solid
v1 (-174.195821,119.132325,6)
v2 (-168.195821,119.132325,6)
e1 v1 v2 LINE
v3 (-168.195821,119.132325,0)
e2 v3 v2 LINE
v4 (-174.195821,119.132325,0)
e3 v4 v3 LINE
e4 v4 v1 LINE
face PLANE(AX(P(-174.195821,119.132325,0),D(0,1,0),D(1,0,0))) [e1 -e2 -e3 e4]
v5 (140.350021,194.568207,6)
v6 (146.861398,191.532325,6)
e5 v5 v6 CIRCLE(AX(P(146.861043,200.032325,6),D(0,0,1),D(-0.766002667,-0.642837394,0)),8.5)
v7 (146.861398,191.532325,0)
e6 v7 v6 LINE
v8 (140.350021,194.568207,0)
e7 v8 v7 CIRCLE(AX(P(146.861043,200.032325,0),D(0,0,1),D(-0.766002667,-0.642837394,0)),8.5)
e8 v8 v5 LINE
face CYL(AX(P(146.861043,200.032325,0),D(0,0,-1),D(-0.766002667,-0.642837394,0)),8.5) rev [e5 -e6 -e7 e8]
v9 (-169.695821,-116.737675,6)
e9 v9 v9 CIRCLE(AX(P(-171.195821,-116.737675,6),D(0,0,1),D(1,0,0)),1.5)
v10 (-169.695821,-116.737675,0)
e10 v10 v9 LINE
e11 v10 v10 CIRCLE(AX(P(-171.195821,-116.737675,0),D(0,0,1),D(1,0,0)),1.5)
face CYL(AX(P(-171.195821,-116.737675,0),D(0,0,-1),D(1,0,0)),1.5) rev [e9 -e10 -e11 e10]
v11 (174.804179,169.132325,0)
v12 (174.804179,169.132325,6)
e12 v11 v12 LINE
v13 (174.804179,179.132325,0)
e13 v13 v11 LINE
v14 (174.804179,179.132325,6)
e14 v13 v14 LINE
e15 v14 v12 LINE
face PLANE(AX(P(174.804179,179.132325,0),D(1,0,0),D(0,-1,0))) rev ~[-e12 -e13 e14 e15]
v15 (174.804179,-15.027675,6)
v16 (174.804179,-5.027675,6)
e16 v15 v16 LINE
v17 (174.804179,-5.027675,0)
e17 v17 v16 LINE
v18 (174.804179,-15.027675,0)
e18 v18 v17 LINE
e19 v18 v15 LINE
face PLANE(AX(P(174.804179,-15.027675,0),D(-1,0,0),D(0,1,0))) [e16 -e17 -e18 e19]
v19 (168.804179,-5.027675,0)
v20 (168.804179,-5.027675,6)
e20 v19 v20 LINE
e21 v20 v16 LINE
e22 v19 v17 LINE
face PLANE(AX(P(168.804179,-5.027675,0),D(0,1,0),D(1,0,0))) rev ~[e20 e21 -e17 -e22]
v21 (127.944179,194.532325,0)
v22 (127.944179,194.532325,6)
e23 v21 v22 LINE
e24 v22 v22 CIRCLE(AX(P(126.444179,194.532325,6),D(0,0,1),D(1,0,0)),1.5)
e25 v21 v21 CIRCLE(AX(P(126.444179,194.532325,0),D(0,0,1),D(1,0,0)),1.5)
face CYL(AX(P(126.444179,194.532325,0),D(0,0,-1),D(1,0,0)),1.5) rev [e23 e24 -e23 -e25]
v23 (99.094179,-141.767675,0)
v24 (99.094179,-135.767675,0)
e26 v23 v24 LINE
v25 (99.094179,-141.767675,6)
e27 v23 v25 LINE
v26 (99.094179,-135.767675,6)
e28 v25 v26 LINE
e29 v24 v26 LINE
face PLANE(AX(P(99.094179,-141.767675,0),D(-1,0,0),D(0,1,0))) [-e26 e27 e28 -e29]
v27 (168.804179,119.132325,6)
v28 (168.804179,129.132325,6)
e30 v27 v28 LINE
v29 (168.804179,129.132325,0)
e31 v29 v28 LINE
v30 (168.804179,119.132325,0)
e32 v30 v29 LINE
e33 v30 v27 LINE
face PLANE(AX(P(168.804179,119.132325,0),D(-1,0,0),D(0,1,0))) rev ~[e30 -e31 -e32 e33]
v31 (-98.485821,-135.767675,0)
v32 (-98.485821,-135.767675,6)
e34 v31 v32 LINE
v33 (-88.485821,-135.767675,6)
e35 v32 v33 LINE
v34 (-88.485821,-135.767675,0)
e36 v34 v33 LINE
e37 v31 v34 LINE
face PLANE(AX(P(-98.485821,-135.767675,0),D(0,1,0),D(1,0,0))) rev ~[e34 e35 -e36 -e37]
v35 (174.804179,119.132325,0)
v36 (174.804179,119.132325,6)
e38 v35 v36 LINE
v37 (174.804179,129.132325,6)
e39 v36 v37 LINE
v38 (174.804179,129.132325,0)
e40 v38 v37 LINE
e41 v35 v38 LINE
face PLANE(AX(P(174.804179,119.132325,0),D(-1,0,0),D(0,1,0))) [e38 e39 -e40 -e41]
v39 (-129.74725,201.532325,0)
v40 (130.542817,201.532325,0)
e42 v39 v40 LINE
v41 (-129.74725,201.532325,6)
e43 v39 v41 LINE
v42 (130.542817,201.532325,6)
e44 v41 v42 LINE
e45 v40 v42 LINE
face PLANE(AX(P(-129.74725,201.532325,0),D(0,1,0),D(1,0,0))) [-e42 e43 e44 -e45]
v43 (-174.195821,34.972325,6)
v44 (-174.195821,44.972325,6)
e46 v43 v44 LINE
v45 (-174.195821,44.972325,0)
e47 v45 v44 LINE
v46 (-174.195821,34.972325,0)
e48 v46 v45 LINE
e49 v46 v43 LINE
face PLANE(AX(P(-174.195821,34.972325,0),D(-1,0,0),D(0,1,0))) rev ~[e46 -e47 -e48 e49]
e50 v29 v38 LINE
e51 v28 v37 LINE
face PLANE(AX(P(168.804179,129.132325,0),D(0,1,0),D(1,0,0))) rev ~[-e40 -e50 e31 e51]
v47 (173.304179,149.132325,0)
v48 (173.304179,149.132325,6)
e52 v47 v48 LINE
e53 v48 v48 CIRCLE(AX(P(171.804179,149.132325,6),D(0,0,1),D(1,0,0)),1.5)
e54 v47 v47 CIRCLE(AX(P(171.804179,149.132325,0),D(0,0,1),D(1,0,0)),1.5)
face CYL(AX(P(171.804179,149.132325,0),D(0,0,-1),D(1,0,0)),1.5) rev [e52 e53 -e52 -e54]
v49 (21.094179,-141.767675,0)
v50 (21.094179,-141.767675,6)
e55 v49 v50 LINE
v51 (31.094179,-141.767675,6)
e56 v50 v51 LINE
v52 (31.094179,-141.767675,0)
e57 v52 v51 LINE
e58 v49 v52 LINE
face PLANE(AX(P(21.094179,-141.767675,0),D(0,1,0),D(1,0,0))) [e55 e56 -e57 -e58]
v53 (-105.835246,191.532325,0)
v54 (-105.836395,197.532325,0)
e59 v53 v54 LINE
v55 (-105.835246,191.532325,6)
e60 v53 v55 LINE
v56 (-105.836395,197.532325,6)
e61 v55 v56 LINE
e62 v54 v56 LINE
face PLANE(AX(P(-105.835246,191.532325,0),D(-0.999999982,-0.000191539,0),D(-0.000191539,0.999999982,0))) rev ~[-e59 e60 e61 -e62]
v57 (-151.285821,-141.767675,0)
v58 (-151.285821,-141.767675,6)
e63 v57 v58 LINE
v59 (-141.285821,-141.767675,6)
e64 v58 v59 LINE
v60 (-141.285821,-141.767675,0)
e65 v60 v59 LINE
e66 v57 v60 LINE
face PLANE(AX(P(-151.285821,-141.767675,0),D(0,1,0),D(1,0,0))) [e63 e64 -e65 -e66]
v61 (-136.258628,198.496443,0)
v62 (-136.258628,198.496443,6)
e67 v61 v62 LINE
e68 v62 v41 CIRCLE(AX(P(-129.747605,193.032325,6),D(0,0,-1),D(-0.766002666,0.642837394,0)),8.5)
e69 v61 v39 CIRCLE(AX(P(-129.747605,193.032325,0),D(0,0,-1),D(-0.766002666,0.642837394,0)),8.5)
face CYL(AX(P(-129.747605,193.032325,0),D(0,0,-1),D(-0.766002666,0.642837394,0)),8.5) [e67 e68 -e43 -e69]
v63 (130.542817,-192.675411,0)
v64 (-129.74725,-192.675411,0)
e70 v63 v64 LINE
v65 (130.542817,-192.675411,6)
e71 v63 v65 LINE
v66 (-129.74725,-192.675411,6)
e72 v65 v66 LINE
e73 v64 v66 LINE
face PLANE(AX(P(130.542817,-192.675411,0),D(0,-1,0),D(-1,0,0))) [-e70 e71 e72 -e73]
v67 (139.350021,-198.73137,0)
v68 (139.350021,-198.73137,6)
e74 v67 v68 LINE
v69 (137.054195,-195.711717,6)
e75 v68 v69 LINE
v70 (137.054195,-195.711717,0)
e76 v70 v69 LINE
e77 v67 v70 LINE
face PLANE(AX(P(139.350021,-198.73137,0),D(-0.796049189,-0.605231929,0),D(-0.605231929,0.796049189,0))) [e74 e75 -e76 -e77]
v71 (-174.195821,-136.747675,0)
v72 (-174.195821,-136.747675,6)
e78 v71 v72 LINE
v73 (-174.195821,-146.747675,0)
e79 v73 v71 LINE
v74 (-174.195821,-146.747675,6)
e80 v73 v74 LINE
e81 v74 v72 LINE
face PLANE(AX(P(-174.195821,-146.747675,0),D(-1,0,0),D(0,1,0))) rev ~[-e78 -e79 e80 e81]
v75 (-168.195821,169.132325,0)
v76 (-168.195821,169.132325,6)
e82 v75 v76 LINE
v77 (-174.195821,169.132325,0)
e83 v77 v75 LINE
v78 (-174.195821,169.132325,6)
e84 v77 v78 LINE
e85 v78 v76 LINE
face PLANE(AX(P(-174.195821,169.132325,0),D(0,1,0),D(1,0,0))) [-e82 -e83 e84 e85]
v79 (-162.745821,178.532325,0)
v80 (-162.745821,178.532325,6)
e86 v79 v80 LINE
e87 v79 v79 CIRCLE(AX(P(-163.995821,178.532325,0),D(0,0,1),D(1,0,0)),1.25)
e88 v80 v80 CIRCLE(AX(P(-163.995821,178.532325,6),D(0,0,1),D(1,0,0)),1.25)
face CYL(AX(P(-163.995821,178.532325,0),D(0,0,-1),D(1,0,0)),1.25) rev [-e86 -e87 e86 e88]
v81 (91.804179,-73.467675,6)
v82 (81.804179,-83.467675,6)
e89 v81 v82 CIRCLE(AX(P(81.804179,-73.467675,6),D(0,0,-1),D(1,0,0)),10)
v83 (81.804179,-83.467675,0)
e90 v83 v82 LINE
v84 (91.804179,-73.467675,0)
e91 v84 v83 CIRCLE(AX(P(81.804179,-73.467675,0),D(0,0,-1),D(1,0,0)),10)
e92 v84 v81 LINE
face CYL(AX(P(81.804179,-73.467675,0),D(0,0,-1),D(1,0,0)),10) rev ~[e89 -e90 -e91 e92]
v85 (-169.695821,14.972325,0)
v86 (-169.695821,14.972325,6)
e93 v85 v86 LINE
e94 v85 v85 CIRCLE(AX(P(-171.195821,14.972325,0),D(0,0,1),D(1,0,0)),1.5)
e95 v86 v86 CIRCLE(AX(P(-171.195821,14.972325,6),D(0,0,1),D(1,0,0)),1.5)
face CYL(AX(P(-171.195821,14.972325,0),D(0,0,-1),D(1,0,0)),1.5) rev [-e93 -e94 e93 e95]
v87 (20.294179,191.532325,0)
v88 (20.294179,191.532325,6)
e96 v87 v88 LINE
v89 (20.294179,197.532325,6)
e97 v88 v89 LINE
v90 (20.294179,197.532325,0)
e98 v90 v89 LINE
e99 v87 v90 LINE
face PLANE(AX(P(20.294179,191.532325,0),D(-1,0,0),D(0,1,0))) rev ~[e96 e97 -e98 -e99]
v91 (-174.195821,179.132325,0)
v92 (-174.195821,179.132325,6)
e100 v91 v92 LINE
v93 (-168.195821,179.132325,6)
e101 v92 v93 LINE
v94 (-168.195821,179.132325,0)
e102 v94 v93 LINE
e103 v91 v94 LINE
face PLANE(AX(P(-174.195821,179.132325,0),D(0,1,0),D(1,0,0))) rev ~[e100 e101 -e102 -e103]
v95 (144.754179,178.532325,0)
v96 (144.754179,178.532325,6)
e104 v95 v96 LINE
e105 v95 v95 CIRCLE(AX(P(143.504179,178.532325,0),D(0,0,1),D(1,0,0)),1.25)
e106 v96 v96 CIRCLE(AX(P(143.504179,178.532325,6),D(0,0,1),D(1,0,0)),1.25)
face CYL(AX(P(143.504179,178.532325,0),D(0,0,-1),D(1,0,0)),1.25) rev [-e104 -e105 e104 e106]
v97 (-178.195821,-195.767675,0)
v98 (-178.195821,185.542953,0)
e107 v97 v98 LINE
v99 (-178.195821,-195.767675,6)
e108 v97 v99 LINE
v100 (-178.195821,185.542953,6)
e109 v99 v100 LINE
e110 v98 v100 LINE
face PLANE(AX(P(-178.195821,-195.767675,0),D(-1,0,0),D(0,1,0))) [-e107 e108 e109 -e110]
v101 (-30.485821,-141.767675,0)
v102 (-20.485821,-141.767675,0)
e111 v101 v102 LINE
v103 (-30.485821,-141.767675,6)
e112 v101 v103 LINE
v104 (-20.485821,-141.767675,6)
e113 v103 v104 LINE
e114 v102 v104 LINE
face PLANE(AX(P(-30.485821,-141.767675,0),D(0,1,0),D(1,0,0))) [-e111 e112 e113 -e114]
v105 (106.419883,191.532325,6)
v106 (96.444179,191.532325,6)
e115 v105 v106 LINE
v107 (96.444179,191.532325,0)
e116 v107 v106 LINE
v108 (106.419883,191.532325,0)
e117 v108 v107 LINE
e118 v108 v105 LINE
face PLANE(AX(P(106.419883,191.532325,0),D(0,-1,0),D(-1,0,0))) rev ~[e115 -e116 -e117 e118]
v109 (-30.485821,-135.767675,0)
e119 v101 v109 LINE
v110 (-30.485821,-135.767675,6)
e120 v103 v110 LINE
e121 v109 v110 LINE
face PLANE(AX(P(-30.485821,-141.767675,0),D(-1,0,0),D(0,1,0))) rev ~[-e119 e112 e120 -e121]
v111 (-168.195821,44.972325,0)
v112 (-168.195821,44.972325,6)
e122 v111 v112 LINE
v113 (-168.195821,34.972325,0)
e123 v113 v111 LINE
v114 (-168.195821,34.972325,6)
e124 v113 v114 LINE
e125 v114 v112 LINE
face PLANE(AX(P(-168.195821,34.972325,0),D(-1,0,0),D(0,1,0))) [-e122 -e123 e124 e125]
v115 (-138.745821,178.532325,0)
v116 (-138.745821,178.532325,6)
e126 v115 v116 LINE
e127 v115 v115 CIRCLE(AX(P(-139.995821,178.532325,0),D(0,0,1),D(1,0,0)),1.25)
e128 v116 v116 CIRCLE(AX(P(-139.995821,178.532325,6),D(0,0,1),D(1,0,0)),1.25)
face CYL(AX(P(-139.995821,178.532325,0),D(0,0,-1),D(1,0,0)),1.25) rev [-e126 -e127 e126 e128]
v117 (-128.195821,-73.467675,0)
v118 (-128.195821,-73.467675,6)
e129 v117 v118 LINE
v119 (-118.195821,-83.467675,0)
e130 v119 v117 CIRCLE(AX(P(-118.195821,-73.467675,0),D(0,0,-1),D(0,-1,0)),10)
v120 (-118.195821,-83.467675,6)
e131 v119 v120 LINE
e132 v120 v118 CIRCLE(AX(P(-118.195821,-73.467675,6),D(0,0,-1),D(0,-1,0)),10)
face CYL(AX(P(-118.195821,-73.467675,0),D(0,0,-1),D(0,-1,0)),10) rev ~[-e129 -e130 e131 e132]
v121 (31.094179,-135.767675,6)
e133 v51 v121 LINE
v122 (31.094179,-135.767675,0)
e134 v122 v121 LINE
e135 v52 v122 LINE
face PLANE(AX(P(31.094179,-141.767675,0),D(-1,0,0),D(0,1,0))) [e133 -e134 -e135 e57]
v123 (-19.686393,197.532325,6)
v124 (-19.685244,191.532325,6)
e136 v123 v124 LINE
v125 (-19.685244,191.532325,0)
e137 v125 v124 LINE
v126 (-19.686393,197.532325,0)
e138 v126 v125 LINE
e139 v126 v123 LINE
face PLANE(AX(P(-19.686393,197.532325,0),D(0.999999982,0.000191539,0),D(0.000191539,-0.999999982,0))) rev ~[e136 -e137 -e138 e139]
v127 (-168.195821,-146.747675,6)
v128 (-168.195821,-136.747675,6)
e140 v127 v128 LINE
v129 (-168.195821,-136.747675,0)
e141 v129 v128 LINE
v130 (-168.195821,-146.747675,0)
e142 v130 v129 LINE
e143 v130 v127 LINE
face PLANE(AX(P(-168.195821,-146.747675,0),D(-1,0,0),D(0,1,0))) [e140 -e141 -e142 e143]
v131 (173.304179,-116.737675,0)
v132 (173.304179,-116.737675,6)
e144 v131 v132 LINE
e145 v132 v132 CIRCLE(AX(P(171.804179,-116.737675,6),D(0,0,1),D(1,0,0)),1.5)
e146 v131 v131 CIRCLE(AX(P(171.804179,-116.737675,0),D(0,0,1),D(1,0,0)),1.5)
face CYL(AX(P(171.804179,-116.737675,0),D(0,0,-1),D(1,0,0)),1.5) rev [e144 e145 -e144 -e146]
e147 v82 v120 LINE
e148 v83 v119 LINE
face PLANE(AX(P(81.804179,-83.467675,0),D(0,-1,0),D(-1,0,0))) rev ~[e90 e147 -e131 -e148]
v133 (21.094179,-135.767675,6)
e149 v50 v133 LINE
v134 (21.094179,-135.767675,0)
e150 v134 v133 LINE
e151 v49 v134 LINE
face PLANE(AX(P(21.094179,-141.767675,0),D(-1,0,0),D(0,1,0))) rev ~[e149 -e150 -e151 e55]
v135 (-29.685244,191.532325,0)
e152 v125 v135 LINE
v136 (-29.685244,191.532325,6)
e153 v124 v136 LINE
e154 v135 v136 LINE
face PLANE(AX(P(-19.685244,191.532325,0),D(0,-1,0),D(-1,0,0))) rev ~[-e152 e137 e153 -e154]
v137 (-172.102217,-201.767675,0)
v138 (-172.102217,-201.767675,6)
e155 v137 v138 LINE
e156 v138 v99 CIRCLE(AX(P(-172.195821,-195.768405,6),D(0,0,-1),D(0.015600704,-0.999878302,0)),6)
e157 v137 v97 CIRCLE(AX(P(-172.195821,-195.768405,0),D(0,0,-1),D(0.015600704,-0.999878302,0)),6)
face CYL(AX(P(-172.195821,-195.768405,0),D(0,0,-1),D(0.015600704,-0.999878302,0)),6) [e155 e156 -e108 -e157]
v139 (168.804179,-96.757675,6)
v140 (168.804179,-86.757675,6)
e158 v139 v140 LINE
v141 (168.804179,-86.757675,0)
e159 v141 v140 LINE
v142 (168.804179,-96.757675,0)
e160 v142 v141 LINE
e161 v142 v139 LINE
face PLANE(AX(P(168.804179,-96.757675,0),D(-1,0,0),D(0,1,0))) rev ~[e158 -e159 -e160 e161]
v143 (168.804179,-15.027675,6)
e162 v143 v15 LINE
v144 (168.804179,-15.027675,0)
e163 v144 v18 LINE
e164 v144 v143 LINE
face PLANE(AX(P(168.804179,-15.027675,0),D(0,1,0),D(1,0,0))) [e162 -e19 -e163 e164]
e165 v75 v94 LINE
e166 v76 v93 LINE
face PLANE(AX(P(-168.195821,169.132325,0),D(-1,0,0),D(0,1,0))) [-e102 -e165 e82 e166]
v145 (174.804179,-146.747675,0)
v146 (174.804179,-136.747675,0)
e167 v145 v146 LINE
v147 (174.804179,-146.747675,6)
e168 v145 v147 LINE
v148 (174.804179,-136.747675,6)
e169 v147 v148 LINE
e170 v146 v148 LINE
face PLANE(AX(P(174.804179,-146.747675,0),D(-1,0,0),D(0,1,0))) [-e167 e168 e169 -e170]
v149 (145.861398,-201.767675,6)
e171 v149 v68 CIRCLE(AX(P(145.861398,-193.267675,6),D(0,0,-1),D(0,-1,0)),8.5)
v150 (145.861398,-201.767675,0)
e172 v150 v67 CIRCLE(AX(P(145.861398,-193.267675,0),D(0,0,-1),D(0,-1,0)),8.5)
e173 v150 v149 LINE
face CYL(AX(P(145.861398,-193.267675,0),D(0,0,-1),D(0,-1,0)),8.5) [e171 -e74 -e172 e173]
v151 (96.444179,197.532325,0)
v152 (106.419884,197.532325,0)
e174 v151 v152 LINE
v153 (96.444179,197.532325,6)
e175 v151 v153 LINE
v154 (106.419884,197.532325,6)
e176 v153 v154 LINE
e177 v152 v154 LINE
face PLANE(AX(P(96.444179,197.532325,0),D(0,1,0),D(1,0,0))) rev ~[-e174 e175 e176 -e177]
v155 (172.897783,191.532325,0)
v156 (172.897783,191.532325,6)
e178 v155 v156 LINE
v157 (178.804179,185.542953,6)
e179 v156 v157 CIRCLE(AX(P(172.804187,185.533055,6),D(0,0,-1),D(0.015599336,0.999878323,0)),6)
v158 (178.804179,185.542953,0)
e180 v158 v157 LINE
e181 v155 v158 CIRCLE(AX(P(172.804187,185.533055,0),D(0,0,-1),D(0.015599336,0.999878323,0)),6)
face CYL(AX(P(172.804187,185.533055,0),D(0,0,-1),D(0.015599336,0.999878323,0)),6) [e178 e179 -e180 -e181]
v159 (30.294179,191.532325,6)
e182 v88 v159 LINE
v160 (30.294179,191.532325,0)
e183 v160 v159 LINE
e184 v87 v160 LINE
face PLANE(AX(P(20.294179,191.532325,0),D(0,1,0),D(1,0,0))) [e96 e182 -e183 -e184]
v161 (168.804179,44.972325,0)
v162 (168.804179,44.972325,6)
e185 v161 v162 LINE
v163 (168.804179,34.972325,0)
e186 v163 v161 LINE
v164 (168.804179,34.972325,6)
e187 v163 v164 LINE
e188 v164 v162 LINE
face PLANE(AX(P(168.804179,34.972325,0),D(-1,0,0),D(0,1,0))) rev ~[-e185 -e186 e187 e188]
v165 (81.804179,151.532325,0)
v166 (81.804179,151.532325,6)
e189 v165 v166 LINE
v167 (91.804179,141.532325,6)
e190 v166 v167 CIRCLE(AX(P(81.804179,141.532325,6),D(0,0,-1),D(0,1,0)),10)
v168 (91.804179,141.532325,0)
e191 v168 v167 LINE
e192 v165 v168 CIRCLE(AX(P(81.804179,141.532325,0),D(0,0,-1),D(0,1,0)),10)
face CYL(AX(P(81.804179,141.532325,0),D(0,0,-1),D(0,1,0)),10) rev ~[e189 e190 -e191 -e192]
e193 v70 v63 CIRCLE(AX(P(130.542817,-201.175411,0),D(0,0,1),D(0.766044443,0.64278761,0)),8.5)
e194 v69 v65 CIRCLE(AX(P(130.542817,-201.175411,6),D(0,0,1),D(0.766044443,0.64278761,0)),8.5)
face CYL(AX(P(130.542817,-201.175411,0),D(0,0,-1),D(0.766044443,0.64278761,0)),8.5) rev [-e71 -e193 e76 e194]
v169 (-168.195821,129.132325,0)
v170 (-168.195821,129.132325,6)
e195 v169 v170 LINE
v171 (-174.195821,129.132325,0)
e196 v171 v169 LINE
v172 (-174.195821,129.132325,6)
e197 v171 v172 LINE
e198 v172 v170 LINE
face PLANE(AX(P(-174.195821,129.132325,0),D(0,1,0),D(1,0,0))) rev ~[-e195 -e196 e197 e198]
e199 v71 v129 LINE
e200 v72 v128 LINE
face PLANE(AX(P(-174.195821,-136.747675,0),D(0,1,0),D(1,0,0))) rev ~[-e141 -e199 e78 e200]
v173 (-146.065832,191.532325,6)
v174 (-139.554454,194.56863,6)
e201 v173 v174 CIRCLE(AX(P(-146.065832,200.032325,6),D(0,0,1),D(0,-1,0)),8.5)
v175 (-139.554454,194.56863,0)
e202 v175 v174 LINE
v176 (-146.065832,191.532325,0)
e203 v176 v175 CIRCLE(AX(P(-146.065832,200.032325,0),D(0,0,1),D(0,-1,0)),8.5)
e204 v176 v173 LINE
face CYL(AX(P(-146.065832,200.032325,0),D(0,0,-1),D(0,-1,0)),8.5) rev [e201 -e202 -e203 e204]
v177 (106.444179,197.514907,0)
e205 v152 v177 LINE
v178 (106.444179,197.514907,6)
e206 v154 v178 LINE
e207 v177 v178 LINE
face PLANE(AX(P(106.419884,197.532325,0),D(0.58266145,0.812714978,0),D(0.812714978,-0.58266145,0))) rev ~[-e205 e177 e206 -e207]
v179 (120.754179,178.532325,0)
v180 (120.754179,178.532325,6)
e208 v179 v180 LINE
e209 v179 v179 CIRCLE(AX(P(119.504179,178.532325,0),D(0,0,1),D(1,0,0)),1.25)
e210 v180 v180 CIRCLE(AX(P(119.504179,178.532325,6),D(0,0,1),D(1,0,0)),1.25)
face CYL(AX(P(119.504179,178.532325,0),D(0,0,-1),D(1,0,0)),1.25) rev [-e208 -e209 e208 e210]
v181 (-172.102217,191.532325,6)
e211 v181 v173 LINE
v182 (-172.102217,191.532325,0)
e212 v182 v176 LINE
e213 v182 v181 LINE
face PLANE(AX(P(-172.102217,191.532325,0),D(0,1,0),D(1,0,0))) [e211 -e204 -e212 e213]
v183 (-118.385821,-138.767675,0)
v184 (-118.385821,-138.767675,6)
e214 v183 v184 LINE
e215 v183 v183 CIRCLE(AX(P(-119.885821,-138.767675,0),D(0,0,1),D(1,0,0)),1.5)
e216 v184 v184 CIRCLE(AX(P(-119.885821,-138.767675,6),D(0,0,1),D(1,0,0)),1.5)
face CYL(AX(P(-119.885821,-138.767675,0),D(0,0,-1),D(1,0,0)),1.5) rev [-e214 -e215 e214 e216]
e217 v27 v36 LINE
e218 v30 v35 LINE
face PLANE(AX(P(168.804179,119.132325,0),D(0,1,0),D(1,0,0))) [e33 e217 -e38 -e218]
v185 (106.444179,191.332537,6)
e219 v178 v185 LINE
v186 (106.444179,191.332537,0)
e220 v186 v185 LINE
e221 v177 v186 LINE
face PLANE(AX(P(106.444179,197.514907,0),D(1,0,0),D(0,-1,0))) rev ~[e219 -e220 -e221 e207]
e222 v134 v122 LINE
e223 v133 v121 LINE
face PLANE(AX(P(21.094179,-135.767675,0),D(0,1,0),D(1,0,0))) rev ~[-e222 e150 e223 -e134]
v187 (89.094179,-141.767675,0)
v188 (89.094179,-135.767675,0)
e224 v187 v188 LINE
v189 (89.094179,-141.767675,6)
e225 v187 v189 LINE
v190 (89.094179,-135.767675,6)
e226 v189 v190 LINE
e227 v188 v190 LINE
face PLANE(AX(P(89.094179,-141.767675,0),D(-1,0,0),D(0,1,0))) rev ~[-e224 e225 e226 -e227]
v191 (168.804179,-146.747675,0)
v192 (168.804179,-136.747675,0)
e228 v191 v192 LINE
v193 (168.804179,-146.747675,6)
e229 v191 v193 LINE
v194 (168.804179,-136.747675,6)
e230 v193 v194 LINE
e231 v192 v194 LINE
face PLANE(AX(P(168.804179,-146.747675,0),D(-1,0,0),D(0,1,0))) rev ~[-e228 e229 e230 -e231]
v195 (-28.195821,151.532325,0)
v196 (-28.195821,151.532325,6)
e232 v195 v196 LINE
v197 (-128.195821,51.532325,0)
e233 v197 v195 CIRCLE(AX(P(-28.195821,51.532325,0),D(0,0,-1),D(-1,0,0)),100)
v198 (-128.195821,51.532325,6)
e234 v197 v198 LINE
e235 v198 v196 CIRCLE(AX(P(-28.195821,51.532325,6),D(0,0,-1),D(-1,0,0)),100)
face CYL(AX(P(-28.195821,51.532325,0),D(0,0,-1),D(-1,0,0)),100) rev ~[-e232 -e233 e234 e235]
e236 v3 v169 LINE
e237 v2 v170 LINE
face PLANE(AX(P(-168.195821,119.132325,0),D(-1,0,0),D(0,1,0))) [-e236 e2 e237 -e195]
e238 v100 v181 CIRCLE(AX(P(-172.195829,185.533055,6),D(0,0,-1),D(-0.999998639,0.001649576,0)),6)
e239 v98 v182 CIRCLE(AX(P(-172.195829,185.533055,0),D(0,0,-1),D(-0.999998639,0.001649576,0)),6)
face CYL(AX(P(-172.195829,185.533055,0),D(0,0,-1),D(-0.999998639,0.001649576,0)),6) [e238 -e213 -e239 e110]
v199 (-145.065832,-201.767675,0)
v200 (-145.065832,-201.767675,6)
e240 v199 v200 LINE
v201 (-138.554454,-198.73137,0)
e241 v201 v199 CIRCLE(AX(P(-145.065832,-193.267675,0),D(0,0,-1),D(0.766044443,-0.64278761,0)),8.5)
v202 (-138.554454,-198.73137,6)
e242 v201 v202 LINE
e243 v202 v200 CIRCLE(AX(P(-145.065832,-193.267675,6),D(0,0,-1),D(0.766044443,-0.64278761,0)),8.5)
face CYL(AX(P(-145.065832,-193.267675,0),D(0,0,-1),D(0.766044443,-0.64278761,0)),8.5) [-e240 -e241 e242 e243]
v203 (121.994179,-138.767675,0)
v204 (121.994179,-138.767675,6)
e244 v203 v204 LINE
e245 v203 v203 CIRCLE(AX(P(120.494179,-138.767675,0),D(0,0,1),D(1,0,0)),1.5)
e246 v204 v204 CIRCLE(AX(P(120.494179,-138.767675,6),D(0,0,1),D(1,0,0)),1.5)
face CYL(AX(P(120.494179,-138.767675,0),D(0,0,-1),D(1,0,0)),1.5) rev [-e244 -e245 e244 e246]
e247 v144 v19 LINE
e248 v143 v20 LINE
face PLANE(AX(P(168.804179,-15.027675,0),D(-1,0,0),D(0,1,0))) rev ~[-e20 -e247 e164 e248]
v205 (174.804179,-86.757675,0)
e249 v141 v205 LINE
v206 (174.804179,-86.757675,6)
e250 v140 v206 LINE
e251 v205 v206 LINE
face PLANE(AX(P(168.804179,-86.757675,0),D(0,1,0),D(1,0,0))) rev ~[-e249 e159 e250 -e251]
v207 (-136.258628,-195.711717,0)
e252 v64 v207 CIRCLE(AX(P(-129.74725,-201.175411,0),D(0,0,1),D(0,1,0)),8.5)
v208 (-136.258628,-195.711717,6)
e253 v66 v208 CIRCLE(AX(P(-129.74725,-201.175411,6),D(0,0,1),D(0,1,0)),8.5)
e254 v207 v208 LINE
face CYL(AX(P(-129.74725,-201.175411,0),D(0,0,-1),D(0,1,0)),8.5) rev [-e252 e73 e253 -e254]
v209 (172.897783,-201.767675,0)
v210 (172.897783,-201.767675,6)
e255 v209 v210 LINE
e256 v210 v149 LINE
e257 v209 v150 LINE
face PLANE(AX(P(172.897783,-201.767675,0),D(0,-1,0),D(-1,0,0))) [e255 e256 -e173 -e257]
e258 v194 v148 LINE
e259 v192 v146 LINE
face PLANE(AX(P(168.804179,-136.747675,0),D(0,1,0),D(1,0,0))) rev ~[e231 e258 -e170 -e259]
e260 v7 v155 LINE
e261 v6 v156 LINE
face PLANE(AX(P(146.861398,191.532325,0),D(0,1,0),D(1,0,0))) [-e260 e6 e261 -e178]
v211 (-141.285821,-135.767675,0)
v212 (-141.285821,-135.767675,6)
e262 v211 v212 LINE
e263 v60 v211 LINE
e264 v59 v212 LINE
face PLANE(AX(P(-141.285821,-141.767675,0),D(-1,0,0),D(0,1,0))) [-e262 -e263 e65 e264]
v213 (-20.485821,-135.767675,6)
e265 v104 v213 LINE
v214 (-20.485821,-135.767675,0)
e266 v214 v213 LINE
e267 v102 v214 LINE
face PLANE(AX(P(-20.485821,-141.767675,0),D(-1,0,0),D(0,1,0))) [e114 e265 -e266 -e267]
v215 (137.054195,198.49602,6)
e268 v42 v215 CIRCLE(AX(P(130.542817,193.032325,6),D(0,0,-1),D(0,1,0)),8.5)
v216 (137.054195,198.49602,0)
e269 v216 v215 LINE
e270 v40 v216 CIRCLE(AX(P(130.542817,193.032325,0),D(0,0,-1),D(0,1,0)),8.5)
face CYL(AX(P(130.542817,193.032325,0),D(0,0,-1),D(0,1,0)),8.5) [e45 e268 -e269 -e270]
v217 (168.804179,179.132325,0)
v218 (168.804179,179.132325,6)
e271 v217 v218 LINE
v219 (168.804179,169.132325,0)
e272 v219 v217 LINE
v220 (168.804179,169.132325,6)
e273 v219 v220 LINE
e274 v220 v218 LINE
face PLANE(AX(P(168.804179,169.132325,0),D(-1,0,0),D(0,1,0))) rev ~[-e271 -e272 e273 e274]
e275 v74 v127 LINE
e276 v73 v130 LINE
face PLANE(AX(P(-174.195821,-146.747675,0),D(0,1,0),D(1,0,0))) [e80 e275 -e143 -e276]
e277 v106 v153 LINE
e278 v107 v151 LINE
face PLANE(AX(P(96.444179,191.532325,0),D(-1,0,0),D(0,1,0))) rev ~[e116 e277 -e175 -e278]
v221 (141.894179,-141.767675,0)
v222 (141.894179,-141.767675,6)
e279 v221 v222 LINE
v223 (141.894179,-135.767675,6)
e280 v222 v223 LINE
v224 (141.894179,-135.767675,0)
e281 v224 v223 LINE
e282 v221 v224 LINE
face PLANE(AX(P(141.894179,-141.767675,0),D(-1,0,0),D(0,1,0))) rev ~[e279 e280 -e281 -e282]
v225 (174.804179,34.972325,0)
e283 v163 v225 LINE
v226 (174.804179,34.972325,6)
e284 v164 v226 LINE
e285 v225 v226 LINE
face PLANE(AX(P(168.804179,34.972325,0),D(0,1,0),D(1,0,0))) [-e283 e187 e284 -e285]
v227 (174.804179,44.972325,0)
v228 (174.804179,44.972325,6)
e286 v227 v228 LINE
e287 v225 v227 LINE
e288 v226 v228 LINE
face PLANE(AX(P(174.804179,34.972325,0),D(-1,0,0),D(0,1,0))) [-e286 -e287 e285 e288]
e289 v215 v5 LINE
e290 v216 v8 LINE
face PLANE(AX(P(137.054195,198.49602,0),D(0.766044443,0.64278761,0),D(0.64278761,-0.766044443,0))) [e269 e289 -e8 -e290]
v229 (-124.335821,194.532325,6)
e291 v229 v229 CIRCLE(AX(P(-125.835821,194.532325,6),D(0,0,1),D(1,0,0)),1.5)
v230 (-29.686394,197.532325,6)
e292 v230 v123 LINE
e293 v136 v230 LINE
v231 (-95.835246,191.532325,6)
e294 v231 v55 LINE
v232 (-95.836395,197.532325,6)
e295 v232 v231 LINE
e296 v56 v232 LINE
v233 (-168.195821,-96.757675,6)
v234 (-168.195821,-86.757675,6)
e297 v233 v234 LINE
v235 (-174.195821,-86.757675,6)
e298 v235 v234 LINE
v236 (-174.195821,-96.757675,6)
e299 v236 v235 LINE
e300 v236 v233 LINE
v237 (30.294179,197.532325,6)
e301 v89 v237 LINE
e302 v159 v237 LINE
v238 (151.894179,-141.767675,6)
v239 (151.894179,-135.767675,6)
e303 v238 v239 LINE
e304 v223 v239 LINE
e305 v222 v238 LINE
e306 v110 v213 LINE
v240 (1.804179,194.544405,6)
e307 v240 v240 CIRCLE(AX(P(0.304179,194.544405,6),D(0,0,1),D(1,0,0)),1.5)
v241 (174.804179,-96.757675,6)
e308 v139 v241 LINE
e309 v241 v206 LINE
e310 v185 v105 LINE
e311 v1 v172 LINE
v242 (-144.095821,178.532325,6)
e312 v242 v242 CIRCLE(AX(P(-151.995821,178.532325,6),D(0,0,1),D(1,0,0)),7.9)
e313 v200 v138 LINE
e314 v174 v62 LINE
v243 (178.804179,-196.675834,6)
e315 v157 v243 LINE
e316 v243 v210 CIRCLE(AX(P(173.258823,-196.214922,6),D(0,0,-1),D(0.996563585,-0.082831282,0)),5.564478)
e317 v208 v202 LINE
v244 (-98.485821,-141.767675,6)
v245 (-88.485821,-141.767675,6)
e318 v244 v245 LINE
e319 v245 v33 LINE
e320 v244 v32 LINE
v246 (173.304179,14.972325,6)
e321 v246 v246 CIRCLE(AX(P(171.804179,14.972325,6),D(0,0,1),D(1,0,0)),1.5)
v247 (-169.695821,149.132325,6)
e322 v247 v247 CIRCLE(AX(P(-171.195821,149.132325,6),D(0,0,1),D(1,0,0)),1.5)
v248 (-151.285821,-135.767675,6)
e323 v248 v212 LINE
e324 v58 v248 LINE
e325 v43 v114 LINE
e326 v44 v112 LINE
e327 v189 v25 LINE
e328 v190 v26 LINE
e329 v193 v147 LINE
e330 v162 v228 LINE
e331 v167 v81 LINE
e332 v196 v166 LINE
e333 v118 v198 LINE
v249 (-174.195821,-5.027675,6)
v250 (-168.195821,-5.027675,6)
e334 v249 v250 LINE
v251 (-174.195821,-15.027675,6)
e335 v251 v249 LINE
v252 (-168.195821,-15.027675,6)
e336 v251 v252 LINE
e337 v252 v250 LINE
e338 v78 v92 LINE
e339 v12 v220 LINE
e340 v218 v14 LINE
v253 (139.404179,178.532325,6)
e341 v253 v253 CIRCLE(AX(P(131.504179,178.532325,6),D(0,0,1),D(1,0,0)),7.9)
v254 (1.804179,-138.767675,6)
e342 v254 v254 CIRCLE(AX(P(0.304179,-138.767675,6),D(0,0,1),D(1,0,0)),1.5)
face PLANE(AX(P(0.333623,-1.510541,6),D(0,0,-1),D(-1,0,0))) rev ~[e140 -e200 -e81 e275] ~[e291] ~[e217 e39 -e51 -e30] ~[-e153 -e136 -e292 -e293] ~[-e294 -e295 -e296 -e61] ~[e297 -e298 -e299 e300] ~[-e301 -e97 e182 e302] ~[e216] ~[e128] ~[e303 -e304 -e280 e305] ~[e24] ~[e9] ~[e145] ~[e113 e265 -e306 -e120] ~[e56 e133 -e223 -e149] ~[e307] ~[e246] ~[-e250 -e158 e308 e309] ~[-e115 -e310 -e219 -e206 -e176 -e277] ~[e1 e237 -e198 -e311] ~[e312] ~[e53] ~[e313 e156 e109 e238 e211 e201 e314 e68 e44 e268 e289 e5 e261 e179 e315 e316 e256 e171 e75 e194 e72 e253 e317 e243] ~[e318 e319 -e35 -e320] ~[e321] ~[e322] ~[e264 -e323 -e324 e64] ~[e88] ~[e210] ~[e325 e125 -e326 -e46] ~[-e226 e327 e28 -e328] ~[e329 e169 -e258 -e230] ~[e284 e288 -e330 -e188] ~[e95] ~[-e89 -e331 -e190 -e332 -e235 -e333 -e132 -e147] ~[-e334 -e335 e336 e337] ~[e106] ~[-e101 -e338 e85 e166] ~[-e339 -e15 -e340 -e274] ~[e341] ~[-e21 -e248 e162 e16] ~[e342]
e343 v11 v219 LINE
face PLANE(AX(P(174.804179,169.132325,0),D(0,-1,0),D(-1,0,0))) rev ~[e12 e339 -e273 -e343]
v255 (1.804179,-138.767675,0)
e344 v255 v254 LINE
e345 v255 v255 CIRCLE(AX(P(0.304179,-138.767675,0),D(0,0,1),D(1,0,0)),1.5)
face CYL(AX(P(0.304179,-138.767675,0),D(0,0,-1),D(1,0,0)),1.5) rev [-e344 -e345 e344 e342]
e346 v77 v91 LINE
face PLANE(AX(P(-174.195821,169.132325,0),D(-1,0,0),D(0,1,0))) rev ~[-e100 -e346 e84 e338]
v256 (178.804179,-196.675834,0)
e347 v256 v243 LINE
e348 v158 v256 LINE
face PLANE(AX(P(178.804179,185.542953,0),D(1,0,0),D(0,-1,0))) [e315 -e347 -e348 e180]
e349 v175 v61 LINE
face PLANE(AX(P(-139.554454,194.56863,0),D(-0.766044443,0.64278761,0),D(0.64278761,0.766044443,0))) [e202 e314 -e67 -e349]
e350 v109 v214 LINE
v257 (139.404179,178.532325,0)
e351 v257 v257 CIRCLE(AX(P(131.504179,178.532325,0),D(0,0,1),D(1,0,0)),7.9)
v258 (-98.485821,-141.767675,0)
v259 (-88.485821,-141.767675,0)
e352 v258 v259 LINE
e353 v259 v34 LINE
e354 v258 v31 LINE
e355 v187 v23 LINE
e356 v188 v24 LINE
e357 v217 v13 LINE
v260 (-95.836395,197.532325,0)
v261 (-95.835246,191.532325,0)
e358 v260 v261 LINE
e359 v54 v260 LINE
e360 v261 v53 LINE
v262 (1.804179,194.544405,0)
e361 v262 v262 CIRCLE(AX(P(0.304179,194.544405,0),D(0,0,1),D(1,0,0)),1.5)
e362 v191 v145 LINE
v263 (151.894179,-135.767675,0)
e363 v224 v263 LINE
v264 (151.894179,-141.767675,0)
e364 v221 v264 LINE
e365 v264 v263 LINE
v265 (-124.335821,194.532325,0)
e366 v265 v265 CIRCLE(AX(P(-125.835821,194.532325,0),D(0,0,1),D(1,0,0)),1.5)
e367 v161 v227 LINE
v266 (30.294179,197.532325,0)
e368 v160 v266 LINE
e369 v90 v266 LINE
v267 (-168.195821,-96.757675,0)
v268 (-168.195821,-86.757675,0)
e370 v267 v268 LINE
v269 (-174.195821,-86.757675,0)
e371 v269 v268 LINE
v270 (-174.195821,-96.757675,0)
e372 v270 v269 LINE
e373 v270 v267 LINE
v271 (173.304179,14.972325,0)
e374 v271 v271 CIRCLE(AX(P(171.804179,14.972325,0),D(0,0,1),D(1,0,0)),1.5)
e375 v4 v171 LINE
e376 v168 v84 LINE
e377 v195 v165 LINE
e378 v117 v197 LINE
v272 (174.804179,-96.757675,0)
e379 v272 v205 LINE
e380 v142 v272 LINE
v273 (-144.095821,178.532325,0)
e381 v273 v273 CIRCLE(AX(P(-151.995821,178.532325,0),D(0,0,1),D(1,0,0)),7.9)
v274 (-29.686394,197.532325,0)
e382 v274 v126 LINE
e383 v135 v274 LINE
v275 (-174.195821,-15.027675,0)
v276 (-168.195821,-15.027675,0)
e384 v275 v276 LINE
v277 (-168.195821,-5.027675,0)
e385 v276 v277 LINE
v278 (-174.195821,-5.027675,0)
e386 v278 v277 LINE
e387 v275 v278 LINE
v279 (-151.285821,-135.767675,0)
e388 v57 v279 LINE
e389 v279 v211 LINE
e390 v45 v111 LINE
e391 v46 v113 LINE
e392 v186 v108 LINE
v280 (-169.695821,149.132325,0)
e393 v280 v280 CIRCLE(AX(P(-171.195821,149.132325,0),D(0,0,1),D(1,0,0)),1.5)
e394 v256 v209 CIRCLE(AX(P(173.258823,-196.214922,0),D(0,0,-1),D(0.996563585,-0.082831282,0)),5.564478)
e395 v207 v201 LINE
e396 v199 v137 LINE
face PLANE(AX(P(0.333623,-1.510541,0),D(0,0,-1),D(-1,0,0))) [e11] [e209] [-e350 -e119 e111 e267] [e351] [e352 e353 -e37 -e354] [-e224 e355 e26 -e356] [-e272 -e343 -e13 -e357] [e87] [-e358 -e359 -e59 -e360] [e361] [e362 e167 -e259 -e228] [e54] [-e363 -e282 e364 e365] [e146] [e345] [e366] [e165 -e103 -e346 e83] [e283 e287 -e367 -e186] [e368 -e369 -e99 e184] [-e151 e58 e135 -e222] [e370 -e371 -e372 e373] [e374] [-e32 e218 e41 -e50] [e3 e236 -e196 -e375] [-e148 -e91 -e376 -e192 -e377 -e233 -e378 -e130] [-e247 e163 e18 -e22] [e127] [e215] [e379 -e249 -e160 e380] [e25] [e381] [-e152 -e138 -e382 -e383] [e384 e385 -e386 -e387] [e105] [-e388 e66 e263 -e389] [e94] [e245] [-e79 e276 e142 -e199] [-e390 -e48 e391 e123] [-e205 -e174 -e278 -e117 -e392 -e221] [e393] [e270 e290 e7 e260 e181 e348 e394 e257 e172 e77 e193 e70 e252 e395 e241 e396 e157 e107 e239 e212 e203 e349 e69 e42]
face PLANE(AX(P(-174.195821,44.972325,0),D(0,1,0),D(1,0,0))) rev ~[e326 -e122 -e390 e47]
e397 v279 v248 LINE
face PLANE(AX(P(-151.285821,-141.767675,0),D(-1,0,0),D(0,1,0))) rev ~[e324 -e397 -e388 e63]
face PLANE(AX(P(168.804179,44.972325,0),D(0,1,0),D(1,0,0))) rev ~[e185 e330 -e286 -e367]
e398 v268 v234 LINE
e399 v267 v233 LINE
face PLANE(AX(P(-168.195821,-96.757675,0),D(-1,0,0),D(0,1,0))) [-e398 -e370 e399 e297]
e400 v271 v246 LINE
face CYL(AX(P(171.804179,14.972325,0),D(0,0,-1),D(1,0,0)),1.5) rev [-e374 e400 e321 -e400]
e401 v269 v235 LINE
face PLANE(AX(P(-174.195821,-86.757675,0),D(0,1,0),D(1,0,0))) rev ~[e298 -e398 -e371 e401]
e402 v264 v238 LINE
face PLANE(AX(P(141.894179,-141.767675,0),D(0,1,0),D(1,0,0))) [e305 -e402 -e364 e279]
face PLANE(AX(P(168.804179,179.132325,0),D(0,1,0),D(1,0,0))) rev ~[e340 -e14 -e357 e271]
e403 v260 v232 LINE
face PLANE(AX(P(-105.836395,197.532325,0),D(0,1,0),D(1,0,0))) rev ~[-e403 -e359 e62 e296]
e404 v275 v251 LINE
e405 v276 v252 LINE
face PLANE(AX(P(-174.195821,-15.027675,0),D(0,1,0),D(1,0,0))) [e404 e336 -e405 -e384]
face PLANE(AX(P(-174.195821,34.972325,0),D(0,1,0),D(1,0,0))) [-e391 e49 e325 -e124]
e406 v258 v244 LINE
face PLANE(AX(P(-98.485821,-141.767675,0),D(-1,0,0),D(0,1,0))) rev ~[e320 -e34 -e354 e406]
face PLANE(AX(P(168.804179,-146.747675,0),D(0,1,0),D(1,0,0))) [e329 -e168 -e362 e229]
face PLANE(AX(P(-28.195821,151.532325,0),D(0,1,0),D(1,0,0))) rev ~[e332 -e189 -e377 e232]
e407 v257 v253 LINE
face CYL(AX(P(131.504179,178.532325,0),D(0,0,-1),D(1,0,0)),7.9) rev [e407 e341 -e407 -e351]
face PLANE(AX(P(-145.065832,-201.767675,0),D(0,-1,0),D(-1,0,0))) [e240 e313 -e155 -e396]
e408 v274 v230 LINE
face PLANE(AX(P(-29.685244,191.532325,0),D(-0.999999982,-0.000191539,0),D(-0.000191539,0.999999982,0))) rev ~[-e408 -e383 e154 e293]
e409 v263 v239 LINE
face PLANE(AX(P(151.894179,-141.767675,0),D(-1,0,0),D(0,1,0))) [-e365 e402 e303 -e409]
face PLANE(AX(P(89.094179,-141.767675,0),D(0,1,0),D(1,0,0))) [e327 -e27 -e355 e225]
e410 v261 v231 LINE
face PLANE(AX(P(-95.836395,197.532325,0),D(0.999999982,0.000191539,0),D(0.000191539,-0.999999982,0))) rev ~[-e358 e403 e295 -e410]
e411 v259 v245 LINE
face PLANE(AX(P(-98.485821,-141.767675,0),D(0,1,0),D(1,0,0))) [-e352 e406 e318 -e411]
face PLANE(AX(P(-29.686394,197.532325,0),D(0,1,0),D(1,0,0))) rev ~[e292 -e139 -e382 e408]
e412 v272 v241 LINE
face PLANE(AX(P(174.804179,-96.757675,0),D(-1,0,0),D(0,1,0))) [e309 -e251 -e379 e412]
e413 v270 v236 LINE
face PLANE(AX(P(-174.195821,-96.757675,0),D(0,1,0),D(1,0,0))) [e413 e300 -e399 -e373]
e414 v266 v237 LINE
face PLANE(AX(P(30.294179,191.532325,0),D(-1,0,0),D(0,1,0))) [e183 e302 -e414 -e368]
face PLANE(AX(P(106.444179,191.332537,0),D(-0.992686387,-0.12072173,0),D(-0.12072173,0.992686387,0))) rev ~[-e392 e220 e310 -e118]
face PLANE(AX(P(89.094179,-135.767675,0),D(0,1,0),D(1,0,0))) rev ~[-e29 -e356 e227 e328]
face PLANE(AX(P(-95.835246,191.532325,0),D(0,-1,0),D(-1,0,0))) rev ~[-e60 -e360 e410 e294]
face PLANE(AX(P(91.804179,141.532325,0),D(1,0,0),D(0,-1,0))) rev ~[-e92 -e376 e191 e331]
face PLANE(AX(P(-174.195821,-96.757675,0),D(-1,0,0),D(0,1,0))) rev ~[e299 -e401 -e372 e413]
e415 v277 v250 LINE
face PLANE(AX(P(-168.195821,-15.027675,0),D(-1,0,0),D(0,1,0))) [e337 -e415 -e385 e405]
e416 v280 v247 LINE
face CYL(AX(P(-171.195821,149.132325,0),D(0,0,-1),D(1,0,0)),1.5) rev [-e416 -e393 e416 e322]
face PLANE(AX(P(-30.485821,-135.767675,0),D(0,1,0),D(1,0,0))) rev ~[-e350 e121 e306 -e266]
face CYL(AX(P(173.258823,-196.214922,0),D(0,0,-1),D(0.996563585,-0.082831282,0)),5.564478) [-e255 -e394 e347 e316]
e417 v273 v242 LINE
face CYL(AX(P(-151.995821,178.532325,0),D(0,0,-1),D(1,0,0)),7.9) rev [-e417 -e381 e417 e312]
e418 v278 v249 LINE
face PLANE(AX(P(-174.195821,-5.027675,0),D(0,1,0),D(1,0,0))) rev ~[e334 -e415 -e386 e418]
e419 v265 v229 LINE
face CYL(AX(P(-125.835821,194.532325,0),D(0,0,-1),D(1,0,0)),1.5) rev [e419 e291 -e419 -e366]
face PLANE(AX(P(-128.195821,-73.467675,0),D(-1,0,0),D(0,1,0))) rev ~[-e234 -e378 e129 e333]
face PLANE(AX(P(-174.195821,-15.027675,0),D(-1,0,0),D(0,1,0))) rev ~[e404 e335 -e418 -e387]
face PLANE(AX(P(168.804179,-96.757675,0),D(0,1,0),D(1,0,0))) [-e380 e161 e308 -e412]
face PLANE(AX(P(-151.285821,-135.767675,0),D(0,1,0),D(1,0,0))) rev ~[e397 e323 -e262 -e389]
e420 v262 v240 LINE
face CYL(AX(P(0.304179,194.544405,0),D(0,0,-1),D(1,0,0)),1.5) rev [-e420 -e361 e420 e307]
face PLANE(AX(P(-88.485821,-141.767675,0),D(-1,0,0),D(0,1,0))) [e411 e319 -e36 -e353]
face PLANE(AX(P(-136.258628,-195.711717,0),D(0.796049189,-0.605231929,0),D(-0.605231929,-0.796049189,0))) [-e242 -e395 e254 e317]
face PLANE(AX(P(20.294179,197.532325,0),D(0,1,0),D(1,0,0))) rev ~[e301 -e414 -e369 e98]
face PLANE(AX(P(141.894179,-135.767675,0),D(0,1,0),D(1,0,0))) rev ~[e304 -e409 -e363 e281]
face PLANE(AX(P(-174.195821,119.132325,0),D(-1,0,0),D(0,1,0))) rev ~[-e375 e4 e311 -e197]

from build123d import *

# Parameters (mm, degrees)
SKETCH_1_R      = 1.5
SKETCH_1_R_2    = 7.9
SKETCH_1_R_3    = 1.25
SKETCH_1_W      = 6
SKETCH_1_H      = 10
SKETCH_1_W_2    = 10
SKETCH_1_H_2    = 6
EXTRUDE_1_DEPTH = 6


with BuildPart() as part:
    # Эскиз1 → Бобышка-Вытянуть1 (new body)
    with BuildSketch(Plane.XY):
        with BuildLine():
            Line((146.861398458, 191.532325026), (172.897783364, 191.532325026))
            ThreePointArc((172.897783364, 191.532325026), (177.076317747, 189.745999648), (178.804179186, 185.542952802))
            Line((178.804179186, 185.542952802), (178.804179186, -196.675834418))
            ThreePointArc((178.804179186, -196.675834418), (176.892140189, -200.429470569), (172.897783364, -201.767674974))
            Line((172.897783364, -201.767674974), (145.861398458, -201.767674974))
            ThreePointArc((145.861398458, -201.767674974), (142.269143233, -200.971291164), (139.350020692, -198.731369657))
            Line((139.350020692, -198.731369657), (137.054194639, -195.711716561))
            ThreePointArc((137.054194639, -195.711716561), (134.135072097, -193.471795054), (130.542816872, -192.675411244))
            Line((130.542816872, -192.675411244), (-129.747250144, -192.675411244))
            ThreePointArc((-129.747250144, -192.675411244), (-133.339505369, -193.471795054), (-136.258627911, -195.711716561))
            Line((-136.258627911, -195.711716561), (-138.554453964, -198.731369657))
            ThreePointArc((-138.554453964, -198.731369657), (-141.473576506, -200.971291164), (-145.06583173, -201.767674974))
            Line((-145.06583173, -201.767674974), (-172.102216636, -201.767674974))
            ThreePointArc((-172.102216636, -201.767674974), (-176.405497525, -200.043755719), (-178.195820814, -195.767674974))
            Line((-178.195820814, -195.767674974), (-178.195820814, 185.542952802))
            ThreePointArc((-178.195820814, 185.542952802), (-176.401714686, 189.812135315), (-172.102216636, 191.532325026))
            Line((-172.102216636, 191.532325026), (-146.06583173, 191.532325026))
            ThreePointArc((-146.06583173, 191.532325026), (-142.473576506, 192.328708836), (-139.554453964, 194.568630343))
            Line((-139.554453964, 194.568630343), (-136.258627911, 198.496442883))
            ThreePointArc((-136.258627911, 198.496442883), (-133.339449219, 200.73613298), (-129.747250144, 201.532325026))
            Line((-129.747250144, 201.532325026), (130.542816872, 201.532325026))
            ThreePointArc((130.542816872, 201.532325026), (134.135072097, 200.735941215), (137.054194639, 198.496019708))
            Line((137.054194639, 198.496019708), (140.350020692, 194.568207169))
            ThreePointArc((140.350020692, 194.568207169), (143.269199383, 192.328517071), (146.861398458, 191.532325026))
        make_face()
        with Locations((120.494179186, -138.767674974)):
            Circle(SKETCH_1_R, mode=Mode.SUBTRACT)
        with Locations((0.304179186, -138.767674974)):
            Circle(SKETCH_1_R, mode=Mode.SUBTRACT)
        with Locations((-119.885820814, -138.767674974)):
            Circle(SKETCH_1_R, mode=Mode.SUBTRACT)
        with Locations((-171.195820814, -116.737674974)):
            Circle(SKETCH_1_R, mode=Mode.SUBTRACT)
        with Locations((-171.195820814, 14.972325026)):
            Circle(SKETCH_1_R, mode=Mode.SUBTRACT)
        with Locations((171.804179186, 149.132325026)):
            Circle(SKETCH_1_R, mode=Mode.SUBTRACT)
        with Locations((126.444179186, 194.532325026)):
            Circle(SKETCH_1_R, mode=Mode.SUBTRACT)
        with Locations((-151.995820814, 178.532325026)):
            Circle(SKETCH_1_R_2, mode=Mode.SUBTRACT)
        with Locations((171.804179186, -116.737674974)):
            Circle(SKETCH_1_R, mode=Mode.SUBTRACT)
        with Locations((171.804179186, 14.972325026)):
            Circle(SKETCH_1_R, mode=Mode.SUBTRACT)
        with Locations((-171.195820814, 149.132325026)):
            Circle(SKETCH_1_R, mode=Mode.SUBTRACT)
        with Locations((-125.835820814, 194.532325026)):
            Circle(SKETCH_1_R, mode=Mode.SUBTRACT)
        with Locations((0.304179186, 194.54440539)):
            Circle(SKETCH_1_R, mode=Mode.SUBTRACT)
        with Locations((131.504179186, 178.532325026)):
            Circle(SKETCH_1_R_2, mode=Mode.SUBTRACT)
        with Locations((-139.995820814, 178.532325026)):
            Circle(SKETCH_1_R_3, mode=Mode.SUBTRACT)
        with Locations((-163.995820814, 178.532325026)):
            Circle(SKETCH_1_R_3, mode=Mode.SUBTRACT)
        with Locations((119.504179186, 178.532325026)):
            Circle(SKETCH_1_R_3, mode=Mode.SUBTRACT)
        with Locations((143.504179186, 178.532325026)):
            Circle(SKETCH_1_R_3, mode=Mode.SUBTRACT)
        with Locations((-171.195820814, 39.972325026)):
            Rectangle(SKETCH_1_W, SKETCH_1_H, mode=Mode.SUBTRACT)
        with Locations((171.804179186, 39.972325026)):
            Rectangle(SKETCH_1_W, SKETCH_1_H, mode=Mode.SUBTRACT)
        Polygon((174.804179186, 179.132325026), (174.804179186, 169.359038573), (174.804179186, 169.132325026), (168.804179186, 169.132325026), (168.804179186, 179.132325026), align=None, mode=Mode.SUBTRACT)
        Polygon((96.444179186, 197.532325026), (106.41988356, 197.532325026), (106.444179186, 197.514906712), (106.444179186, 191.332537312), (106.419882773, 191.532325026), (96.444179186, 191.532325026), align=None, mode=Mode.SUBTRACT)
        with Locations((26.094179186, -138.767674974)):
            Rectangle(SKETCH_1_W_2, SKETCH_1_H_2, mode=Mode.SUBTRACT)
        with Locations((-25.485820814, -138.767674974)):
            Rectangle(SKETCH_1_W_2, SKETCH_1_H_2, mode=Mode.SUBTRACT)
        with Locations((-171.195820814, 174.132325026)):
            Rectangle(SKETCH_1_W, SKETCH_1_H, mode=Mode.SUBTRACT)
        with Locations((94.094179186, -138.767674974)):
            Rectangle(SKETCH_1_W_2, SKETCH_1_H_2, mode=Mode.SUBTRACT)
        with Locations((146.894179186, -138.767674974)):
            Rectangle(SKETCH_1_W_2, SKETCH_1_H_2, mode=Mode.SUBTRACT)
        Polygon((-19.68524425, 191.532325026), (-29.685244433, 191.532325026), (-29.686393667, 197.532325026), (-19.686393484, 197.532325026), align=None, mode=Mode.SUBTRACT)
        with Locations((-171.195820814, 124.132325026)):
            Rectangle(SKETCH_1_W, SKETCH_1_H, mode=Mode.SUBTRACT)
        with Locations((-146.285820814, -138.767674974)):
            Rectangle(SKETCH_1_W_2, SKETCH_1_H_2, mode=Mode.SUBTRACT)
        with Locations((25.294179186, 194.532325026)):
            Rectangle(SKETCH_1_W_2, SKETCH_1_H_2, mode=Mode.SUBTRACT)
        with Locations((-171.195820814, -10.027674974)):
            Rectangle(SKETCH_1_W, SKETCH_1_H, mode=Mode.SUBTRACT)
        with Locations((-171.195820814, -91.757674974)):
            Rectangle(SKETCH_1_W, SKETCH_1_H, mode=Mode.SUBTRACT)
        with Locations((-171.195820814, -141.747674974)):
            Rectangle(SKETCH_1_W, SKETCH_1_H, mode=Mode.SUBTRACT)
        with Locations((-93.485820814, -138.767674974)):
            Rectangle(SKETCH_1_W_2, SKETCH_1_H_2, mode=Mode.SUBTRACT)
        with Locations((171.804179186, -10.027674974)):
            Rectangle(SKETCH_1_W, SKETCH_1_H, mode=Mode.SUBTRACT)
        with Locations((171.804179186, -91.757674974)):
            Rectangle(SKETCH_1_W, SKETCH_1_H, mode=Mode.SUBTRACT)
        with Locations((171.804179186, -141.747674974)):
            Rectangle(SKETCH_1_W, SKETCH_1_H, mode=Mode.SUBTRACT)
        with Locations((171.804179186, 124.132325026)):
            Rectangle(SKETCH_1_W, SKETCH_1_H, mode=Mode.SUBTRACT)
        Polygon((-95.835245647, 191.532325026), (-105.83524583, 191.532325026), (-105.836395064, 197.532325026), (-95.836394881, 197.532325026), align=None, mode=Mode.SUBTRACT)
        with BuildLine():
            Line((-128.195820814, -73.467674974), (-128.195820814, 51.532325026))
            ThreePointArc((-128.195820814, 51.532325026), (-98.906498933, 122.243003144), (-28.195820814, 151.532325026))
            Line((-28.195820814, 151.532325026), (81.804179186, 151.532325026))
            ThreePointArc((81.804179186, 151.532325026), (88.875246998, 148.603392838), (91.804179186, 141.532325026))
            Line((91.804179186, 141.532325026), (91.804179186, -73.467674974))
            ThreePointArc((91.804179186, -73.467674974), (88.875246998, -80.538742786), (81.804179186, -83.467674974))
            Line((81.804179186, -83.467674974), (-118.195820814, -83.467674974))
            ThreePointArc((-118.195820814, -83.467674974), (-125.266888626, -80.538742786), (-128.195820814, -73.467674974))
        make_face(mode=Mode.SUBTRACT)
    extrude(amount=EXTRUDE_1_DEPTH)


solid = part.part
